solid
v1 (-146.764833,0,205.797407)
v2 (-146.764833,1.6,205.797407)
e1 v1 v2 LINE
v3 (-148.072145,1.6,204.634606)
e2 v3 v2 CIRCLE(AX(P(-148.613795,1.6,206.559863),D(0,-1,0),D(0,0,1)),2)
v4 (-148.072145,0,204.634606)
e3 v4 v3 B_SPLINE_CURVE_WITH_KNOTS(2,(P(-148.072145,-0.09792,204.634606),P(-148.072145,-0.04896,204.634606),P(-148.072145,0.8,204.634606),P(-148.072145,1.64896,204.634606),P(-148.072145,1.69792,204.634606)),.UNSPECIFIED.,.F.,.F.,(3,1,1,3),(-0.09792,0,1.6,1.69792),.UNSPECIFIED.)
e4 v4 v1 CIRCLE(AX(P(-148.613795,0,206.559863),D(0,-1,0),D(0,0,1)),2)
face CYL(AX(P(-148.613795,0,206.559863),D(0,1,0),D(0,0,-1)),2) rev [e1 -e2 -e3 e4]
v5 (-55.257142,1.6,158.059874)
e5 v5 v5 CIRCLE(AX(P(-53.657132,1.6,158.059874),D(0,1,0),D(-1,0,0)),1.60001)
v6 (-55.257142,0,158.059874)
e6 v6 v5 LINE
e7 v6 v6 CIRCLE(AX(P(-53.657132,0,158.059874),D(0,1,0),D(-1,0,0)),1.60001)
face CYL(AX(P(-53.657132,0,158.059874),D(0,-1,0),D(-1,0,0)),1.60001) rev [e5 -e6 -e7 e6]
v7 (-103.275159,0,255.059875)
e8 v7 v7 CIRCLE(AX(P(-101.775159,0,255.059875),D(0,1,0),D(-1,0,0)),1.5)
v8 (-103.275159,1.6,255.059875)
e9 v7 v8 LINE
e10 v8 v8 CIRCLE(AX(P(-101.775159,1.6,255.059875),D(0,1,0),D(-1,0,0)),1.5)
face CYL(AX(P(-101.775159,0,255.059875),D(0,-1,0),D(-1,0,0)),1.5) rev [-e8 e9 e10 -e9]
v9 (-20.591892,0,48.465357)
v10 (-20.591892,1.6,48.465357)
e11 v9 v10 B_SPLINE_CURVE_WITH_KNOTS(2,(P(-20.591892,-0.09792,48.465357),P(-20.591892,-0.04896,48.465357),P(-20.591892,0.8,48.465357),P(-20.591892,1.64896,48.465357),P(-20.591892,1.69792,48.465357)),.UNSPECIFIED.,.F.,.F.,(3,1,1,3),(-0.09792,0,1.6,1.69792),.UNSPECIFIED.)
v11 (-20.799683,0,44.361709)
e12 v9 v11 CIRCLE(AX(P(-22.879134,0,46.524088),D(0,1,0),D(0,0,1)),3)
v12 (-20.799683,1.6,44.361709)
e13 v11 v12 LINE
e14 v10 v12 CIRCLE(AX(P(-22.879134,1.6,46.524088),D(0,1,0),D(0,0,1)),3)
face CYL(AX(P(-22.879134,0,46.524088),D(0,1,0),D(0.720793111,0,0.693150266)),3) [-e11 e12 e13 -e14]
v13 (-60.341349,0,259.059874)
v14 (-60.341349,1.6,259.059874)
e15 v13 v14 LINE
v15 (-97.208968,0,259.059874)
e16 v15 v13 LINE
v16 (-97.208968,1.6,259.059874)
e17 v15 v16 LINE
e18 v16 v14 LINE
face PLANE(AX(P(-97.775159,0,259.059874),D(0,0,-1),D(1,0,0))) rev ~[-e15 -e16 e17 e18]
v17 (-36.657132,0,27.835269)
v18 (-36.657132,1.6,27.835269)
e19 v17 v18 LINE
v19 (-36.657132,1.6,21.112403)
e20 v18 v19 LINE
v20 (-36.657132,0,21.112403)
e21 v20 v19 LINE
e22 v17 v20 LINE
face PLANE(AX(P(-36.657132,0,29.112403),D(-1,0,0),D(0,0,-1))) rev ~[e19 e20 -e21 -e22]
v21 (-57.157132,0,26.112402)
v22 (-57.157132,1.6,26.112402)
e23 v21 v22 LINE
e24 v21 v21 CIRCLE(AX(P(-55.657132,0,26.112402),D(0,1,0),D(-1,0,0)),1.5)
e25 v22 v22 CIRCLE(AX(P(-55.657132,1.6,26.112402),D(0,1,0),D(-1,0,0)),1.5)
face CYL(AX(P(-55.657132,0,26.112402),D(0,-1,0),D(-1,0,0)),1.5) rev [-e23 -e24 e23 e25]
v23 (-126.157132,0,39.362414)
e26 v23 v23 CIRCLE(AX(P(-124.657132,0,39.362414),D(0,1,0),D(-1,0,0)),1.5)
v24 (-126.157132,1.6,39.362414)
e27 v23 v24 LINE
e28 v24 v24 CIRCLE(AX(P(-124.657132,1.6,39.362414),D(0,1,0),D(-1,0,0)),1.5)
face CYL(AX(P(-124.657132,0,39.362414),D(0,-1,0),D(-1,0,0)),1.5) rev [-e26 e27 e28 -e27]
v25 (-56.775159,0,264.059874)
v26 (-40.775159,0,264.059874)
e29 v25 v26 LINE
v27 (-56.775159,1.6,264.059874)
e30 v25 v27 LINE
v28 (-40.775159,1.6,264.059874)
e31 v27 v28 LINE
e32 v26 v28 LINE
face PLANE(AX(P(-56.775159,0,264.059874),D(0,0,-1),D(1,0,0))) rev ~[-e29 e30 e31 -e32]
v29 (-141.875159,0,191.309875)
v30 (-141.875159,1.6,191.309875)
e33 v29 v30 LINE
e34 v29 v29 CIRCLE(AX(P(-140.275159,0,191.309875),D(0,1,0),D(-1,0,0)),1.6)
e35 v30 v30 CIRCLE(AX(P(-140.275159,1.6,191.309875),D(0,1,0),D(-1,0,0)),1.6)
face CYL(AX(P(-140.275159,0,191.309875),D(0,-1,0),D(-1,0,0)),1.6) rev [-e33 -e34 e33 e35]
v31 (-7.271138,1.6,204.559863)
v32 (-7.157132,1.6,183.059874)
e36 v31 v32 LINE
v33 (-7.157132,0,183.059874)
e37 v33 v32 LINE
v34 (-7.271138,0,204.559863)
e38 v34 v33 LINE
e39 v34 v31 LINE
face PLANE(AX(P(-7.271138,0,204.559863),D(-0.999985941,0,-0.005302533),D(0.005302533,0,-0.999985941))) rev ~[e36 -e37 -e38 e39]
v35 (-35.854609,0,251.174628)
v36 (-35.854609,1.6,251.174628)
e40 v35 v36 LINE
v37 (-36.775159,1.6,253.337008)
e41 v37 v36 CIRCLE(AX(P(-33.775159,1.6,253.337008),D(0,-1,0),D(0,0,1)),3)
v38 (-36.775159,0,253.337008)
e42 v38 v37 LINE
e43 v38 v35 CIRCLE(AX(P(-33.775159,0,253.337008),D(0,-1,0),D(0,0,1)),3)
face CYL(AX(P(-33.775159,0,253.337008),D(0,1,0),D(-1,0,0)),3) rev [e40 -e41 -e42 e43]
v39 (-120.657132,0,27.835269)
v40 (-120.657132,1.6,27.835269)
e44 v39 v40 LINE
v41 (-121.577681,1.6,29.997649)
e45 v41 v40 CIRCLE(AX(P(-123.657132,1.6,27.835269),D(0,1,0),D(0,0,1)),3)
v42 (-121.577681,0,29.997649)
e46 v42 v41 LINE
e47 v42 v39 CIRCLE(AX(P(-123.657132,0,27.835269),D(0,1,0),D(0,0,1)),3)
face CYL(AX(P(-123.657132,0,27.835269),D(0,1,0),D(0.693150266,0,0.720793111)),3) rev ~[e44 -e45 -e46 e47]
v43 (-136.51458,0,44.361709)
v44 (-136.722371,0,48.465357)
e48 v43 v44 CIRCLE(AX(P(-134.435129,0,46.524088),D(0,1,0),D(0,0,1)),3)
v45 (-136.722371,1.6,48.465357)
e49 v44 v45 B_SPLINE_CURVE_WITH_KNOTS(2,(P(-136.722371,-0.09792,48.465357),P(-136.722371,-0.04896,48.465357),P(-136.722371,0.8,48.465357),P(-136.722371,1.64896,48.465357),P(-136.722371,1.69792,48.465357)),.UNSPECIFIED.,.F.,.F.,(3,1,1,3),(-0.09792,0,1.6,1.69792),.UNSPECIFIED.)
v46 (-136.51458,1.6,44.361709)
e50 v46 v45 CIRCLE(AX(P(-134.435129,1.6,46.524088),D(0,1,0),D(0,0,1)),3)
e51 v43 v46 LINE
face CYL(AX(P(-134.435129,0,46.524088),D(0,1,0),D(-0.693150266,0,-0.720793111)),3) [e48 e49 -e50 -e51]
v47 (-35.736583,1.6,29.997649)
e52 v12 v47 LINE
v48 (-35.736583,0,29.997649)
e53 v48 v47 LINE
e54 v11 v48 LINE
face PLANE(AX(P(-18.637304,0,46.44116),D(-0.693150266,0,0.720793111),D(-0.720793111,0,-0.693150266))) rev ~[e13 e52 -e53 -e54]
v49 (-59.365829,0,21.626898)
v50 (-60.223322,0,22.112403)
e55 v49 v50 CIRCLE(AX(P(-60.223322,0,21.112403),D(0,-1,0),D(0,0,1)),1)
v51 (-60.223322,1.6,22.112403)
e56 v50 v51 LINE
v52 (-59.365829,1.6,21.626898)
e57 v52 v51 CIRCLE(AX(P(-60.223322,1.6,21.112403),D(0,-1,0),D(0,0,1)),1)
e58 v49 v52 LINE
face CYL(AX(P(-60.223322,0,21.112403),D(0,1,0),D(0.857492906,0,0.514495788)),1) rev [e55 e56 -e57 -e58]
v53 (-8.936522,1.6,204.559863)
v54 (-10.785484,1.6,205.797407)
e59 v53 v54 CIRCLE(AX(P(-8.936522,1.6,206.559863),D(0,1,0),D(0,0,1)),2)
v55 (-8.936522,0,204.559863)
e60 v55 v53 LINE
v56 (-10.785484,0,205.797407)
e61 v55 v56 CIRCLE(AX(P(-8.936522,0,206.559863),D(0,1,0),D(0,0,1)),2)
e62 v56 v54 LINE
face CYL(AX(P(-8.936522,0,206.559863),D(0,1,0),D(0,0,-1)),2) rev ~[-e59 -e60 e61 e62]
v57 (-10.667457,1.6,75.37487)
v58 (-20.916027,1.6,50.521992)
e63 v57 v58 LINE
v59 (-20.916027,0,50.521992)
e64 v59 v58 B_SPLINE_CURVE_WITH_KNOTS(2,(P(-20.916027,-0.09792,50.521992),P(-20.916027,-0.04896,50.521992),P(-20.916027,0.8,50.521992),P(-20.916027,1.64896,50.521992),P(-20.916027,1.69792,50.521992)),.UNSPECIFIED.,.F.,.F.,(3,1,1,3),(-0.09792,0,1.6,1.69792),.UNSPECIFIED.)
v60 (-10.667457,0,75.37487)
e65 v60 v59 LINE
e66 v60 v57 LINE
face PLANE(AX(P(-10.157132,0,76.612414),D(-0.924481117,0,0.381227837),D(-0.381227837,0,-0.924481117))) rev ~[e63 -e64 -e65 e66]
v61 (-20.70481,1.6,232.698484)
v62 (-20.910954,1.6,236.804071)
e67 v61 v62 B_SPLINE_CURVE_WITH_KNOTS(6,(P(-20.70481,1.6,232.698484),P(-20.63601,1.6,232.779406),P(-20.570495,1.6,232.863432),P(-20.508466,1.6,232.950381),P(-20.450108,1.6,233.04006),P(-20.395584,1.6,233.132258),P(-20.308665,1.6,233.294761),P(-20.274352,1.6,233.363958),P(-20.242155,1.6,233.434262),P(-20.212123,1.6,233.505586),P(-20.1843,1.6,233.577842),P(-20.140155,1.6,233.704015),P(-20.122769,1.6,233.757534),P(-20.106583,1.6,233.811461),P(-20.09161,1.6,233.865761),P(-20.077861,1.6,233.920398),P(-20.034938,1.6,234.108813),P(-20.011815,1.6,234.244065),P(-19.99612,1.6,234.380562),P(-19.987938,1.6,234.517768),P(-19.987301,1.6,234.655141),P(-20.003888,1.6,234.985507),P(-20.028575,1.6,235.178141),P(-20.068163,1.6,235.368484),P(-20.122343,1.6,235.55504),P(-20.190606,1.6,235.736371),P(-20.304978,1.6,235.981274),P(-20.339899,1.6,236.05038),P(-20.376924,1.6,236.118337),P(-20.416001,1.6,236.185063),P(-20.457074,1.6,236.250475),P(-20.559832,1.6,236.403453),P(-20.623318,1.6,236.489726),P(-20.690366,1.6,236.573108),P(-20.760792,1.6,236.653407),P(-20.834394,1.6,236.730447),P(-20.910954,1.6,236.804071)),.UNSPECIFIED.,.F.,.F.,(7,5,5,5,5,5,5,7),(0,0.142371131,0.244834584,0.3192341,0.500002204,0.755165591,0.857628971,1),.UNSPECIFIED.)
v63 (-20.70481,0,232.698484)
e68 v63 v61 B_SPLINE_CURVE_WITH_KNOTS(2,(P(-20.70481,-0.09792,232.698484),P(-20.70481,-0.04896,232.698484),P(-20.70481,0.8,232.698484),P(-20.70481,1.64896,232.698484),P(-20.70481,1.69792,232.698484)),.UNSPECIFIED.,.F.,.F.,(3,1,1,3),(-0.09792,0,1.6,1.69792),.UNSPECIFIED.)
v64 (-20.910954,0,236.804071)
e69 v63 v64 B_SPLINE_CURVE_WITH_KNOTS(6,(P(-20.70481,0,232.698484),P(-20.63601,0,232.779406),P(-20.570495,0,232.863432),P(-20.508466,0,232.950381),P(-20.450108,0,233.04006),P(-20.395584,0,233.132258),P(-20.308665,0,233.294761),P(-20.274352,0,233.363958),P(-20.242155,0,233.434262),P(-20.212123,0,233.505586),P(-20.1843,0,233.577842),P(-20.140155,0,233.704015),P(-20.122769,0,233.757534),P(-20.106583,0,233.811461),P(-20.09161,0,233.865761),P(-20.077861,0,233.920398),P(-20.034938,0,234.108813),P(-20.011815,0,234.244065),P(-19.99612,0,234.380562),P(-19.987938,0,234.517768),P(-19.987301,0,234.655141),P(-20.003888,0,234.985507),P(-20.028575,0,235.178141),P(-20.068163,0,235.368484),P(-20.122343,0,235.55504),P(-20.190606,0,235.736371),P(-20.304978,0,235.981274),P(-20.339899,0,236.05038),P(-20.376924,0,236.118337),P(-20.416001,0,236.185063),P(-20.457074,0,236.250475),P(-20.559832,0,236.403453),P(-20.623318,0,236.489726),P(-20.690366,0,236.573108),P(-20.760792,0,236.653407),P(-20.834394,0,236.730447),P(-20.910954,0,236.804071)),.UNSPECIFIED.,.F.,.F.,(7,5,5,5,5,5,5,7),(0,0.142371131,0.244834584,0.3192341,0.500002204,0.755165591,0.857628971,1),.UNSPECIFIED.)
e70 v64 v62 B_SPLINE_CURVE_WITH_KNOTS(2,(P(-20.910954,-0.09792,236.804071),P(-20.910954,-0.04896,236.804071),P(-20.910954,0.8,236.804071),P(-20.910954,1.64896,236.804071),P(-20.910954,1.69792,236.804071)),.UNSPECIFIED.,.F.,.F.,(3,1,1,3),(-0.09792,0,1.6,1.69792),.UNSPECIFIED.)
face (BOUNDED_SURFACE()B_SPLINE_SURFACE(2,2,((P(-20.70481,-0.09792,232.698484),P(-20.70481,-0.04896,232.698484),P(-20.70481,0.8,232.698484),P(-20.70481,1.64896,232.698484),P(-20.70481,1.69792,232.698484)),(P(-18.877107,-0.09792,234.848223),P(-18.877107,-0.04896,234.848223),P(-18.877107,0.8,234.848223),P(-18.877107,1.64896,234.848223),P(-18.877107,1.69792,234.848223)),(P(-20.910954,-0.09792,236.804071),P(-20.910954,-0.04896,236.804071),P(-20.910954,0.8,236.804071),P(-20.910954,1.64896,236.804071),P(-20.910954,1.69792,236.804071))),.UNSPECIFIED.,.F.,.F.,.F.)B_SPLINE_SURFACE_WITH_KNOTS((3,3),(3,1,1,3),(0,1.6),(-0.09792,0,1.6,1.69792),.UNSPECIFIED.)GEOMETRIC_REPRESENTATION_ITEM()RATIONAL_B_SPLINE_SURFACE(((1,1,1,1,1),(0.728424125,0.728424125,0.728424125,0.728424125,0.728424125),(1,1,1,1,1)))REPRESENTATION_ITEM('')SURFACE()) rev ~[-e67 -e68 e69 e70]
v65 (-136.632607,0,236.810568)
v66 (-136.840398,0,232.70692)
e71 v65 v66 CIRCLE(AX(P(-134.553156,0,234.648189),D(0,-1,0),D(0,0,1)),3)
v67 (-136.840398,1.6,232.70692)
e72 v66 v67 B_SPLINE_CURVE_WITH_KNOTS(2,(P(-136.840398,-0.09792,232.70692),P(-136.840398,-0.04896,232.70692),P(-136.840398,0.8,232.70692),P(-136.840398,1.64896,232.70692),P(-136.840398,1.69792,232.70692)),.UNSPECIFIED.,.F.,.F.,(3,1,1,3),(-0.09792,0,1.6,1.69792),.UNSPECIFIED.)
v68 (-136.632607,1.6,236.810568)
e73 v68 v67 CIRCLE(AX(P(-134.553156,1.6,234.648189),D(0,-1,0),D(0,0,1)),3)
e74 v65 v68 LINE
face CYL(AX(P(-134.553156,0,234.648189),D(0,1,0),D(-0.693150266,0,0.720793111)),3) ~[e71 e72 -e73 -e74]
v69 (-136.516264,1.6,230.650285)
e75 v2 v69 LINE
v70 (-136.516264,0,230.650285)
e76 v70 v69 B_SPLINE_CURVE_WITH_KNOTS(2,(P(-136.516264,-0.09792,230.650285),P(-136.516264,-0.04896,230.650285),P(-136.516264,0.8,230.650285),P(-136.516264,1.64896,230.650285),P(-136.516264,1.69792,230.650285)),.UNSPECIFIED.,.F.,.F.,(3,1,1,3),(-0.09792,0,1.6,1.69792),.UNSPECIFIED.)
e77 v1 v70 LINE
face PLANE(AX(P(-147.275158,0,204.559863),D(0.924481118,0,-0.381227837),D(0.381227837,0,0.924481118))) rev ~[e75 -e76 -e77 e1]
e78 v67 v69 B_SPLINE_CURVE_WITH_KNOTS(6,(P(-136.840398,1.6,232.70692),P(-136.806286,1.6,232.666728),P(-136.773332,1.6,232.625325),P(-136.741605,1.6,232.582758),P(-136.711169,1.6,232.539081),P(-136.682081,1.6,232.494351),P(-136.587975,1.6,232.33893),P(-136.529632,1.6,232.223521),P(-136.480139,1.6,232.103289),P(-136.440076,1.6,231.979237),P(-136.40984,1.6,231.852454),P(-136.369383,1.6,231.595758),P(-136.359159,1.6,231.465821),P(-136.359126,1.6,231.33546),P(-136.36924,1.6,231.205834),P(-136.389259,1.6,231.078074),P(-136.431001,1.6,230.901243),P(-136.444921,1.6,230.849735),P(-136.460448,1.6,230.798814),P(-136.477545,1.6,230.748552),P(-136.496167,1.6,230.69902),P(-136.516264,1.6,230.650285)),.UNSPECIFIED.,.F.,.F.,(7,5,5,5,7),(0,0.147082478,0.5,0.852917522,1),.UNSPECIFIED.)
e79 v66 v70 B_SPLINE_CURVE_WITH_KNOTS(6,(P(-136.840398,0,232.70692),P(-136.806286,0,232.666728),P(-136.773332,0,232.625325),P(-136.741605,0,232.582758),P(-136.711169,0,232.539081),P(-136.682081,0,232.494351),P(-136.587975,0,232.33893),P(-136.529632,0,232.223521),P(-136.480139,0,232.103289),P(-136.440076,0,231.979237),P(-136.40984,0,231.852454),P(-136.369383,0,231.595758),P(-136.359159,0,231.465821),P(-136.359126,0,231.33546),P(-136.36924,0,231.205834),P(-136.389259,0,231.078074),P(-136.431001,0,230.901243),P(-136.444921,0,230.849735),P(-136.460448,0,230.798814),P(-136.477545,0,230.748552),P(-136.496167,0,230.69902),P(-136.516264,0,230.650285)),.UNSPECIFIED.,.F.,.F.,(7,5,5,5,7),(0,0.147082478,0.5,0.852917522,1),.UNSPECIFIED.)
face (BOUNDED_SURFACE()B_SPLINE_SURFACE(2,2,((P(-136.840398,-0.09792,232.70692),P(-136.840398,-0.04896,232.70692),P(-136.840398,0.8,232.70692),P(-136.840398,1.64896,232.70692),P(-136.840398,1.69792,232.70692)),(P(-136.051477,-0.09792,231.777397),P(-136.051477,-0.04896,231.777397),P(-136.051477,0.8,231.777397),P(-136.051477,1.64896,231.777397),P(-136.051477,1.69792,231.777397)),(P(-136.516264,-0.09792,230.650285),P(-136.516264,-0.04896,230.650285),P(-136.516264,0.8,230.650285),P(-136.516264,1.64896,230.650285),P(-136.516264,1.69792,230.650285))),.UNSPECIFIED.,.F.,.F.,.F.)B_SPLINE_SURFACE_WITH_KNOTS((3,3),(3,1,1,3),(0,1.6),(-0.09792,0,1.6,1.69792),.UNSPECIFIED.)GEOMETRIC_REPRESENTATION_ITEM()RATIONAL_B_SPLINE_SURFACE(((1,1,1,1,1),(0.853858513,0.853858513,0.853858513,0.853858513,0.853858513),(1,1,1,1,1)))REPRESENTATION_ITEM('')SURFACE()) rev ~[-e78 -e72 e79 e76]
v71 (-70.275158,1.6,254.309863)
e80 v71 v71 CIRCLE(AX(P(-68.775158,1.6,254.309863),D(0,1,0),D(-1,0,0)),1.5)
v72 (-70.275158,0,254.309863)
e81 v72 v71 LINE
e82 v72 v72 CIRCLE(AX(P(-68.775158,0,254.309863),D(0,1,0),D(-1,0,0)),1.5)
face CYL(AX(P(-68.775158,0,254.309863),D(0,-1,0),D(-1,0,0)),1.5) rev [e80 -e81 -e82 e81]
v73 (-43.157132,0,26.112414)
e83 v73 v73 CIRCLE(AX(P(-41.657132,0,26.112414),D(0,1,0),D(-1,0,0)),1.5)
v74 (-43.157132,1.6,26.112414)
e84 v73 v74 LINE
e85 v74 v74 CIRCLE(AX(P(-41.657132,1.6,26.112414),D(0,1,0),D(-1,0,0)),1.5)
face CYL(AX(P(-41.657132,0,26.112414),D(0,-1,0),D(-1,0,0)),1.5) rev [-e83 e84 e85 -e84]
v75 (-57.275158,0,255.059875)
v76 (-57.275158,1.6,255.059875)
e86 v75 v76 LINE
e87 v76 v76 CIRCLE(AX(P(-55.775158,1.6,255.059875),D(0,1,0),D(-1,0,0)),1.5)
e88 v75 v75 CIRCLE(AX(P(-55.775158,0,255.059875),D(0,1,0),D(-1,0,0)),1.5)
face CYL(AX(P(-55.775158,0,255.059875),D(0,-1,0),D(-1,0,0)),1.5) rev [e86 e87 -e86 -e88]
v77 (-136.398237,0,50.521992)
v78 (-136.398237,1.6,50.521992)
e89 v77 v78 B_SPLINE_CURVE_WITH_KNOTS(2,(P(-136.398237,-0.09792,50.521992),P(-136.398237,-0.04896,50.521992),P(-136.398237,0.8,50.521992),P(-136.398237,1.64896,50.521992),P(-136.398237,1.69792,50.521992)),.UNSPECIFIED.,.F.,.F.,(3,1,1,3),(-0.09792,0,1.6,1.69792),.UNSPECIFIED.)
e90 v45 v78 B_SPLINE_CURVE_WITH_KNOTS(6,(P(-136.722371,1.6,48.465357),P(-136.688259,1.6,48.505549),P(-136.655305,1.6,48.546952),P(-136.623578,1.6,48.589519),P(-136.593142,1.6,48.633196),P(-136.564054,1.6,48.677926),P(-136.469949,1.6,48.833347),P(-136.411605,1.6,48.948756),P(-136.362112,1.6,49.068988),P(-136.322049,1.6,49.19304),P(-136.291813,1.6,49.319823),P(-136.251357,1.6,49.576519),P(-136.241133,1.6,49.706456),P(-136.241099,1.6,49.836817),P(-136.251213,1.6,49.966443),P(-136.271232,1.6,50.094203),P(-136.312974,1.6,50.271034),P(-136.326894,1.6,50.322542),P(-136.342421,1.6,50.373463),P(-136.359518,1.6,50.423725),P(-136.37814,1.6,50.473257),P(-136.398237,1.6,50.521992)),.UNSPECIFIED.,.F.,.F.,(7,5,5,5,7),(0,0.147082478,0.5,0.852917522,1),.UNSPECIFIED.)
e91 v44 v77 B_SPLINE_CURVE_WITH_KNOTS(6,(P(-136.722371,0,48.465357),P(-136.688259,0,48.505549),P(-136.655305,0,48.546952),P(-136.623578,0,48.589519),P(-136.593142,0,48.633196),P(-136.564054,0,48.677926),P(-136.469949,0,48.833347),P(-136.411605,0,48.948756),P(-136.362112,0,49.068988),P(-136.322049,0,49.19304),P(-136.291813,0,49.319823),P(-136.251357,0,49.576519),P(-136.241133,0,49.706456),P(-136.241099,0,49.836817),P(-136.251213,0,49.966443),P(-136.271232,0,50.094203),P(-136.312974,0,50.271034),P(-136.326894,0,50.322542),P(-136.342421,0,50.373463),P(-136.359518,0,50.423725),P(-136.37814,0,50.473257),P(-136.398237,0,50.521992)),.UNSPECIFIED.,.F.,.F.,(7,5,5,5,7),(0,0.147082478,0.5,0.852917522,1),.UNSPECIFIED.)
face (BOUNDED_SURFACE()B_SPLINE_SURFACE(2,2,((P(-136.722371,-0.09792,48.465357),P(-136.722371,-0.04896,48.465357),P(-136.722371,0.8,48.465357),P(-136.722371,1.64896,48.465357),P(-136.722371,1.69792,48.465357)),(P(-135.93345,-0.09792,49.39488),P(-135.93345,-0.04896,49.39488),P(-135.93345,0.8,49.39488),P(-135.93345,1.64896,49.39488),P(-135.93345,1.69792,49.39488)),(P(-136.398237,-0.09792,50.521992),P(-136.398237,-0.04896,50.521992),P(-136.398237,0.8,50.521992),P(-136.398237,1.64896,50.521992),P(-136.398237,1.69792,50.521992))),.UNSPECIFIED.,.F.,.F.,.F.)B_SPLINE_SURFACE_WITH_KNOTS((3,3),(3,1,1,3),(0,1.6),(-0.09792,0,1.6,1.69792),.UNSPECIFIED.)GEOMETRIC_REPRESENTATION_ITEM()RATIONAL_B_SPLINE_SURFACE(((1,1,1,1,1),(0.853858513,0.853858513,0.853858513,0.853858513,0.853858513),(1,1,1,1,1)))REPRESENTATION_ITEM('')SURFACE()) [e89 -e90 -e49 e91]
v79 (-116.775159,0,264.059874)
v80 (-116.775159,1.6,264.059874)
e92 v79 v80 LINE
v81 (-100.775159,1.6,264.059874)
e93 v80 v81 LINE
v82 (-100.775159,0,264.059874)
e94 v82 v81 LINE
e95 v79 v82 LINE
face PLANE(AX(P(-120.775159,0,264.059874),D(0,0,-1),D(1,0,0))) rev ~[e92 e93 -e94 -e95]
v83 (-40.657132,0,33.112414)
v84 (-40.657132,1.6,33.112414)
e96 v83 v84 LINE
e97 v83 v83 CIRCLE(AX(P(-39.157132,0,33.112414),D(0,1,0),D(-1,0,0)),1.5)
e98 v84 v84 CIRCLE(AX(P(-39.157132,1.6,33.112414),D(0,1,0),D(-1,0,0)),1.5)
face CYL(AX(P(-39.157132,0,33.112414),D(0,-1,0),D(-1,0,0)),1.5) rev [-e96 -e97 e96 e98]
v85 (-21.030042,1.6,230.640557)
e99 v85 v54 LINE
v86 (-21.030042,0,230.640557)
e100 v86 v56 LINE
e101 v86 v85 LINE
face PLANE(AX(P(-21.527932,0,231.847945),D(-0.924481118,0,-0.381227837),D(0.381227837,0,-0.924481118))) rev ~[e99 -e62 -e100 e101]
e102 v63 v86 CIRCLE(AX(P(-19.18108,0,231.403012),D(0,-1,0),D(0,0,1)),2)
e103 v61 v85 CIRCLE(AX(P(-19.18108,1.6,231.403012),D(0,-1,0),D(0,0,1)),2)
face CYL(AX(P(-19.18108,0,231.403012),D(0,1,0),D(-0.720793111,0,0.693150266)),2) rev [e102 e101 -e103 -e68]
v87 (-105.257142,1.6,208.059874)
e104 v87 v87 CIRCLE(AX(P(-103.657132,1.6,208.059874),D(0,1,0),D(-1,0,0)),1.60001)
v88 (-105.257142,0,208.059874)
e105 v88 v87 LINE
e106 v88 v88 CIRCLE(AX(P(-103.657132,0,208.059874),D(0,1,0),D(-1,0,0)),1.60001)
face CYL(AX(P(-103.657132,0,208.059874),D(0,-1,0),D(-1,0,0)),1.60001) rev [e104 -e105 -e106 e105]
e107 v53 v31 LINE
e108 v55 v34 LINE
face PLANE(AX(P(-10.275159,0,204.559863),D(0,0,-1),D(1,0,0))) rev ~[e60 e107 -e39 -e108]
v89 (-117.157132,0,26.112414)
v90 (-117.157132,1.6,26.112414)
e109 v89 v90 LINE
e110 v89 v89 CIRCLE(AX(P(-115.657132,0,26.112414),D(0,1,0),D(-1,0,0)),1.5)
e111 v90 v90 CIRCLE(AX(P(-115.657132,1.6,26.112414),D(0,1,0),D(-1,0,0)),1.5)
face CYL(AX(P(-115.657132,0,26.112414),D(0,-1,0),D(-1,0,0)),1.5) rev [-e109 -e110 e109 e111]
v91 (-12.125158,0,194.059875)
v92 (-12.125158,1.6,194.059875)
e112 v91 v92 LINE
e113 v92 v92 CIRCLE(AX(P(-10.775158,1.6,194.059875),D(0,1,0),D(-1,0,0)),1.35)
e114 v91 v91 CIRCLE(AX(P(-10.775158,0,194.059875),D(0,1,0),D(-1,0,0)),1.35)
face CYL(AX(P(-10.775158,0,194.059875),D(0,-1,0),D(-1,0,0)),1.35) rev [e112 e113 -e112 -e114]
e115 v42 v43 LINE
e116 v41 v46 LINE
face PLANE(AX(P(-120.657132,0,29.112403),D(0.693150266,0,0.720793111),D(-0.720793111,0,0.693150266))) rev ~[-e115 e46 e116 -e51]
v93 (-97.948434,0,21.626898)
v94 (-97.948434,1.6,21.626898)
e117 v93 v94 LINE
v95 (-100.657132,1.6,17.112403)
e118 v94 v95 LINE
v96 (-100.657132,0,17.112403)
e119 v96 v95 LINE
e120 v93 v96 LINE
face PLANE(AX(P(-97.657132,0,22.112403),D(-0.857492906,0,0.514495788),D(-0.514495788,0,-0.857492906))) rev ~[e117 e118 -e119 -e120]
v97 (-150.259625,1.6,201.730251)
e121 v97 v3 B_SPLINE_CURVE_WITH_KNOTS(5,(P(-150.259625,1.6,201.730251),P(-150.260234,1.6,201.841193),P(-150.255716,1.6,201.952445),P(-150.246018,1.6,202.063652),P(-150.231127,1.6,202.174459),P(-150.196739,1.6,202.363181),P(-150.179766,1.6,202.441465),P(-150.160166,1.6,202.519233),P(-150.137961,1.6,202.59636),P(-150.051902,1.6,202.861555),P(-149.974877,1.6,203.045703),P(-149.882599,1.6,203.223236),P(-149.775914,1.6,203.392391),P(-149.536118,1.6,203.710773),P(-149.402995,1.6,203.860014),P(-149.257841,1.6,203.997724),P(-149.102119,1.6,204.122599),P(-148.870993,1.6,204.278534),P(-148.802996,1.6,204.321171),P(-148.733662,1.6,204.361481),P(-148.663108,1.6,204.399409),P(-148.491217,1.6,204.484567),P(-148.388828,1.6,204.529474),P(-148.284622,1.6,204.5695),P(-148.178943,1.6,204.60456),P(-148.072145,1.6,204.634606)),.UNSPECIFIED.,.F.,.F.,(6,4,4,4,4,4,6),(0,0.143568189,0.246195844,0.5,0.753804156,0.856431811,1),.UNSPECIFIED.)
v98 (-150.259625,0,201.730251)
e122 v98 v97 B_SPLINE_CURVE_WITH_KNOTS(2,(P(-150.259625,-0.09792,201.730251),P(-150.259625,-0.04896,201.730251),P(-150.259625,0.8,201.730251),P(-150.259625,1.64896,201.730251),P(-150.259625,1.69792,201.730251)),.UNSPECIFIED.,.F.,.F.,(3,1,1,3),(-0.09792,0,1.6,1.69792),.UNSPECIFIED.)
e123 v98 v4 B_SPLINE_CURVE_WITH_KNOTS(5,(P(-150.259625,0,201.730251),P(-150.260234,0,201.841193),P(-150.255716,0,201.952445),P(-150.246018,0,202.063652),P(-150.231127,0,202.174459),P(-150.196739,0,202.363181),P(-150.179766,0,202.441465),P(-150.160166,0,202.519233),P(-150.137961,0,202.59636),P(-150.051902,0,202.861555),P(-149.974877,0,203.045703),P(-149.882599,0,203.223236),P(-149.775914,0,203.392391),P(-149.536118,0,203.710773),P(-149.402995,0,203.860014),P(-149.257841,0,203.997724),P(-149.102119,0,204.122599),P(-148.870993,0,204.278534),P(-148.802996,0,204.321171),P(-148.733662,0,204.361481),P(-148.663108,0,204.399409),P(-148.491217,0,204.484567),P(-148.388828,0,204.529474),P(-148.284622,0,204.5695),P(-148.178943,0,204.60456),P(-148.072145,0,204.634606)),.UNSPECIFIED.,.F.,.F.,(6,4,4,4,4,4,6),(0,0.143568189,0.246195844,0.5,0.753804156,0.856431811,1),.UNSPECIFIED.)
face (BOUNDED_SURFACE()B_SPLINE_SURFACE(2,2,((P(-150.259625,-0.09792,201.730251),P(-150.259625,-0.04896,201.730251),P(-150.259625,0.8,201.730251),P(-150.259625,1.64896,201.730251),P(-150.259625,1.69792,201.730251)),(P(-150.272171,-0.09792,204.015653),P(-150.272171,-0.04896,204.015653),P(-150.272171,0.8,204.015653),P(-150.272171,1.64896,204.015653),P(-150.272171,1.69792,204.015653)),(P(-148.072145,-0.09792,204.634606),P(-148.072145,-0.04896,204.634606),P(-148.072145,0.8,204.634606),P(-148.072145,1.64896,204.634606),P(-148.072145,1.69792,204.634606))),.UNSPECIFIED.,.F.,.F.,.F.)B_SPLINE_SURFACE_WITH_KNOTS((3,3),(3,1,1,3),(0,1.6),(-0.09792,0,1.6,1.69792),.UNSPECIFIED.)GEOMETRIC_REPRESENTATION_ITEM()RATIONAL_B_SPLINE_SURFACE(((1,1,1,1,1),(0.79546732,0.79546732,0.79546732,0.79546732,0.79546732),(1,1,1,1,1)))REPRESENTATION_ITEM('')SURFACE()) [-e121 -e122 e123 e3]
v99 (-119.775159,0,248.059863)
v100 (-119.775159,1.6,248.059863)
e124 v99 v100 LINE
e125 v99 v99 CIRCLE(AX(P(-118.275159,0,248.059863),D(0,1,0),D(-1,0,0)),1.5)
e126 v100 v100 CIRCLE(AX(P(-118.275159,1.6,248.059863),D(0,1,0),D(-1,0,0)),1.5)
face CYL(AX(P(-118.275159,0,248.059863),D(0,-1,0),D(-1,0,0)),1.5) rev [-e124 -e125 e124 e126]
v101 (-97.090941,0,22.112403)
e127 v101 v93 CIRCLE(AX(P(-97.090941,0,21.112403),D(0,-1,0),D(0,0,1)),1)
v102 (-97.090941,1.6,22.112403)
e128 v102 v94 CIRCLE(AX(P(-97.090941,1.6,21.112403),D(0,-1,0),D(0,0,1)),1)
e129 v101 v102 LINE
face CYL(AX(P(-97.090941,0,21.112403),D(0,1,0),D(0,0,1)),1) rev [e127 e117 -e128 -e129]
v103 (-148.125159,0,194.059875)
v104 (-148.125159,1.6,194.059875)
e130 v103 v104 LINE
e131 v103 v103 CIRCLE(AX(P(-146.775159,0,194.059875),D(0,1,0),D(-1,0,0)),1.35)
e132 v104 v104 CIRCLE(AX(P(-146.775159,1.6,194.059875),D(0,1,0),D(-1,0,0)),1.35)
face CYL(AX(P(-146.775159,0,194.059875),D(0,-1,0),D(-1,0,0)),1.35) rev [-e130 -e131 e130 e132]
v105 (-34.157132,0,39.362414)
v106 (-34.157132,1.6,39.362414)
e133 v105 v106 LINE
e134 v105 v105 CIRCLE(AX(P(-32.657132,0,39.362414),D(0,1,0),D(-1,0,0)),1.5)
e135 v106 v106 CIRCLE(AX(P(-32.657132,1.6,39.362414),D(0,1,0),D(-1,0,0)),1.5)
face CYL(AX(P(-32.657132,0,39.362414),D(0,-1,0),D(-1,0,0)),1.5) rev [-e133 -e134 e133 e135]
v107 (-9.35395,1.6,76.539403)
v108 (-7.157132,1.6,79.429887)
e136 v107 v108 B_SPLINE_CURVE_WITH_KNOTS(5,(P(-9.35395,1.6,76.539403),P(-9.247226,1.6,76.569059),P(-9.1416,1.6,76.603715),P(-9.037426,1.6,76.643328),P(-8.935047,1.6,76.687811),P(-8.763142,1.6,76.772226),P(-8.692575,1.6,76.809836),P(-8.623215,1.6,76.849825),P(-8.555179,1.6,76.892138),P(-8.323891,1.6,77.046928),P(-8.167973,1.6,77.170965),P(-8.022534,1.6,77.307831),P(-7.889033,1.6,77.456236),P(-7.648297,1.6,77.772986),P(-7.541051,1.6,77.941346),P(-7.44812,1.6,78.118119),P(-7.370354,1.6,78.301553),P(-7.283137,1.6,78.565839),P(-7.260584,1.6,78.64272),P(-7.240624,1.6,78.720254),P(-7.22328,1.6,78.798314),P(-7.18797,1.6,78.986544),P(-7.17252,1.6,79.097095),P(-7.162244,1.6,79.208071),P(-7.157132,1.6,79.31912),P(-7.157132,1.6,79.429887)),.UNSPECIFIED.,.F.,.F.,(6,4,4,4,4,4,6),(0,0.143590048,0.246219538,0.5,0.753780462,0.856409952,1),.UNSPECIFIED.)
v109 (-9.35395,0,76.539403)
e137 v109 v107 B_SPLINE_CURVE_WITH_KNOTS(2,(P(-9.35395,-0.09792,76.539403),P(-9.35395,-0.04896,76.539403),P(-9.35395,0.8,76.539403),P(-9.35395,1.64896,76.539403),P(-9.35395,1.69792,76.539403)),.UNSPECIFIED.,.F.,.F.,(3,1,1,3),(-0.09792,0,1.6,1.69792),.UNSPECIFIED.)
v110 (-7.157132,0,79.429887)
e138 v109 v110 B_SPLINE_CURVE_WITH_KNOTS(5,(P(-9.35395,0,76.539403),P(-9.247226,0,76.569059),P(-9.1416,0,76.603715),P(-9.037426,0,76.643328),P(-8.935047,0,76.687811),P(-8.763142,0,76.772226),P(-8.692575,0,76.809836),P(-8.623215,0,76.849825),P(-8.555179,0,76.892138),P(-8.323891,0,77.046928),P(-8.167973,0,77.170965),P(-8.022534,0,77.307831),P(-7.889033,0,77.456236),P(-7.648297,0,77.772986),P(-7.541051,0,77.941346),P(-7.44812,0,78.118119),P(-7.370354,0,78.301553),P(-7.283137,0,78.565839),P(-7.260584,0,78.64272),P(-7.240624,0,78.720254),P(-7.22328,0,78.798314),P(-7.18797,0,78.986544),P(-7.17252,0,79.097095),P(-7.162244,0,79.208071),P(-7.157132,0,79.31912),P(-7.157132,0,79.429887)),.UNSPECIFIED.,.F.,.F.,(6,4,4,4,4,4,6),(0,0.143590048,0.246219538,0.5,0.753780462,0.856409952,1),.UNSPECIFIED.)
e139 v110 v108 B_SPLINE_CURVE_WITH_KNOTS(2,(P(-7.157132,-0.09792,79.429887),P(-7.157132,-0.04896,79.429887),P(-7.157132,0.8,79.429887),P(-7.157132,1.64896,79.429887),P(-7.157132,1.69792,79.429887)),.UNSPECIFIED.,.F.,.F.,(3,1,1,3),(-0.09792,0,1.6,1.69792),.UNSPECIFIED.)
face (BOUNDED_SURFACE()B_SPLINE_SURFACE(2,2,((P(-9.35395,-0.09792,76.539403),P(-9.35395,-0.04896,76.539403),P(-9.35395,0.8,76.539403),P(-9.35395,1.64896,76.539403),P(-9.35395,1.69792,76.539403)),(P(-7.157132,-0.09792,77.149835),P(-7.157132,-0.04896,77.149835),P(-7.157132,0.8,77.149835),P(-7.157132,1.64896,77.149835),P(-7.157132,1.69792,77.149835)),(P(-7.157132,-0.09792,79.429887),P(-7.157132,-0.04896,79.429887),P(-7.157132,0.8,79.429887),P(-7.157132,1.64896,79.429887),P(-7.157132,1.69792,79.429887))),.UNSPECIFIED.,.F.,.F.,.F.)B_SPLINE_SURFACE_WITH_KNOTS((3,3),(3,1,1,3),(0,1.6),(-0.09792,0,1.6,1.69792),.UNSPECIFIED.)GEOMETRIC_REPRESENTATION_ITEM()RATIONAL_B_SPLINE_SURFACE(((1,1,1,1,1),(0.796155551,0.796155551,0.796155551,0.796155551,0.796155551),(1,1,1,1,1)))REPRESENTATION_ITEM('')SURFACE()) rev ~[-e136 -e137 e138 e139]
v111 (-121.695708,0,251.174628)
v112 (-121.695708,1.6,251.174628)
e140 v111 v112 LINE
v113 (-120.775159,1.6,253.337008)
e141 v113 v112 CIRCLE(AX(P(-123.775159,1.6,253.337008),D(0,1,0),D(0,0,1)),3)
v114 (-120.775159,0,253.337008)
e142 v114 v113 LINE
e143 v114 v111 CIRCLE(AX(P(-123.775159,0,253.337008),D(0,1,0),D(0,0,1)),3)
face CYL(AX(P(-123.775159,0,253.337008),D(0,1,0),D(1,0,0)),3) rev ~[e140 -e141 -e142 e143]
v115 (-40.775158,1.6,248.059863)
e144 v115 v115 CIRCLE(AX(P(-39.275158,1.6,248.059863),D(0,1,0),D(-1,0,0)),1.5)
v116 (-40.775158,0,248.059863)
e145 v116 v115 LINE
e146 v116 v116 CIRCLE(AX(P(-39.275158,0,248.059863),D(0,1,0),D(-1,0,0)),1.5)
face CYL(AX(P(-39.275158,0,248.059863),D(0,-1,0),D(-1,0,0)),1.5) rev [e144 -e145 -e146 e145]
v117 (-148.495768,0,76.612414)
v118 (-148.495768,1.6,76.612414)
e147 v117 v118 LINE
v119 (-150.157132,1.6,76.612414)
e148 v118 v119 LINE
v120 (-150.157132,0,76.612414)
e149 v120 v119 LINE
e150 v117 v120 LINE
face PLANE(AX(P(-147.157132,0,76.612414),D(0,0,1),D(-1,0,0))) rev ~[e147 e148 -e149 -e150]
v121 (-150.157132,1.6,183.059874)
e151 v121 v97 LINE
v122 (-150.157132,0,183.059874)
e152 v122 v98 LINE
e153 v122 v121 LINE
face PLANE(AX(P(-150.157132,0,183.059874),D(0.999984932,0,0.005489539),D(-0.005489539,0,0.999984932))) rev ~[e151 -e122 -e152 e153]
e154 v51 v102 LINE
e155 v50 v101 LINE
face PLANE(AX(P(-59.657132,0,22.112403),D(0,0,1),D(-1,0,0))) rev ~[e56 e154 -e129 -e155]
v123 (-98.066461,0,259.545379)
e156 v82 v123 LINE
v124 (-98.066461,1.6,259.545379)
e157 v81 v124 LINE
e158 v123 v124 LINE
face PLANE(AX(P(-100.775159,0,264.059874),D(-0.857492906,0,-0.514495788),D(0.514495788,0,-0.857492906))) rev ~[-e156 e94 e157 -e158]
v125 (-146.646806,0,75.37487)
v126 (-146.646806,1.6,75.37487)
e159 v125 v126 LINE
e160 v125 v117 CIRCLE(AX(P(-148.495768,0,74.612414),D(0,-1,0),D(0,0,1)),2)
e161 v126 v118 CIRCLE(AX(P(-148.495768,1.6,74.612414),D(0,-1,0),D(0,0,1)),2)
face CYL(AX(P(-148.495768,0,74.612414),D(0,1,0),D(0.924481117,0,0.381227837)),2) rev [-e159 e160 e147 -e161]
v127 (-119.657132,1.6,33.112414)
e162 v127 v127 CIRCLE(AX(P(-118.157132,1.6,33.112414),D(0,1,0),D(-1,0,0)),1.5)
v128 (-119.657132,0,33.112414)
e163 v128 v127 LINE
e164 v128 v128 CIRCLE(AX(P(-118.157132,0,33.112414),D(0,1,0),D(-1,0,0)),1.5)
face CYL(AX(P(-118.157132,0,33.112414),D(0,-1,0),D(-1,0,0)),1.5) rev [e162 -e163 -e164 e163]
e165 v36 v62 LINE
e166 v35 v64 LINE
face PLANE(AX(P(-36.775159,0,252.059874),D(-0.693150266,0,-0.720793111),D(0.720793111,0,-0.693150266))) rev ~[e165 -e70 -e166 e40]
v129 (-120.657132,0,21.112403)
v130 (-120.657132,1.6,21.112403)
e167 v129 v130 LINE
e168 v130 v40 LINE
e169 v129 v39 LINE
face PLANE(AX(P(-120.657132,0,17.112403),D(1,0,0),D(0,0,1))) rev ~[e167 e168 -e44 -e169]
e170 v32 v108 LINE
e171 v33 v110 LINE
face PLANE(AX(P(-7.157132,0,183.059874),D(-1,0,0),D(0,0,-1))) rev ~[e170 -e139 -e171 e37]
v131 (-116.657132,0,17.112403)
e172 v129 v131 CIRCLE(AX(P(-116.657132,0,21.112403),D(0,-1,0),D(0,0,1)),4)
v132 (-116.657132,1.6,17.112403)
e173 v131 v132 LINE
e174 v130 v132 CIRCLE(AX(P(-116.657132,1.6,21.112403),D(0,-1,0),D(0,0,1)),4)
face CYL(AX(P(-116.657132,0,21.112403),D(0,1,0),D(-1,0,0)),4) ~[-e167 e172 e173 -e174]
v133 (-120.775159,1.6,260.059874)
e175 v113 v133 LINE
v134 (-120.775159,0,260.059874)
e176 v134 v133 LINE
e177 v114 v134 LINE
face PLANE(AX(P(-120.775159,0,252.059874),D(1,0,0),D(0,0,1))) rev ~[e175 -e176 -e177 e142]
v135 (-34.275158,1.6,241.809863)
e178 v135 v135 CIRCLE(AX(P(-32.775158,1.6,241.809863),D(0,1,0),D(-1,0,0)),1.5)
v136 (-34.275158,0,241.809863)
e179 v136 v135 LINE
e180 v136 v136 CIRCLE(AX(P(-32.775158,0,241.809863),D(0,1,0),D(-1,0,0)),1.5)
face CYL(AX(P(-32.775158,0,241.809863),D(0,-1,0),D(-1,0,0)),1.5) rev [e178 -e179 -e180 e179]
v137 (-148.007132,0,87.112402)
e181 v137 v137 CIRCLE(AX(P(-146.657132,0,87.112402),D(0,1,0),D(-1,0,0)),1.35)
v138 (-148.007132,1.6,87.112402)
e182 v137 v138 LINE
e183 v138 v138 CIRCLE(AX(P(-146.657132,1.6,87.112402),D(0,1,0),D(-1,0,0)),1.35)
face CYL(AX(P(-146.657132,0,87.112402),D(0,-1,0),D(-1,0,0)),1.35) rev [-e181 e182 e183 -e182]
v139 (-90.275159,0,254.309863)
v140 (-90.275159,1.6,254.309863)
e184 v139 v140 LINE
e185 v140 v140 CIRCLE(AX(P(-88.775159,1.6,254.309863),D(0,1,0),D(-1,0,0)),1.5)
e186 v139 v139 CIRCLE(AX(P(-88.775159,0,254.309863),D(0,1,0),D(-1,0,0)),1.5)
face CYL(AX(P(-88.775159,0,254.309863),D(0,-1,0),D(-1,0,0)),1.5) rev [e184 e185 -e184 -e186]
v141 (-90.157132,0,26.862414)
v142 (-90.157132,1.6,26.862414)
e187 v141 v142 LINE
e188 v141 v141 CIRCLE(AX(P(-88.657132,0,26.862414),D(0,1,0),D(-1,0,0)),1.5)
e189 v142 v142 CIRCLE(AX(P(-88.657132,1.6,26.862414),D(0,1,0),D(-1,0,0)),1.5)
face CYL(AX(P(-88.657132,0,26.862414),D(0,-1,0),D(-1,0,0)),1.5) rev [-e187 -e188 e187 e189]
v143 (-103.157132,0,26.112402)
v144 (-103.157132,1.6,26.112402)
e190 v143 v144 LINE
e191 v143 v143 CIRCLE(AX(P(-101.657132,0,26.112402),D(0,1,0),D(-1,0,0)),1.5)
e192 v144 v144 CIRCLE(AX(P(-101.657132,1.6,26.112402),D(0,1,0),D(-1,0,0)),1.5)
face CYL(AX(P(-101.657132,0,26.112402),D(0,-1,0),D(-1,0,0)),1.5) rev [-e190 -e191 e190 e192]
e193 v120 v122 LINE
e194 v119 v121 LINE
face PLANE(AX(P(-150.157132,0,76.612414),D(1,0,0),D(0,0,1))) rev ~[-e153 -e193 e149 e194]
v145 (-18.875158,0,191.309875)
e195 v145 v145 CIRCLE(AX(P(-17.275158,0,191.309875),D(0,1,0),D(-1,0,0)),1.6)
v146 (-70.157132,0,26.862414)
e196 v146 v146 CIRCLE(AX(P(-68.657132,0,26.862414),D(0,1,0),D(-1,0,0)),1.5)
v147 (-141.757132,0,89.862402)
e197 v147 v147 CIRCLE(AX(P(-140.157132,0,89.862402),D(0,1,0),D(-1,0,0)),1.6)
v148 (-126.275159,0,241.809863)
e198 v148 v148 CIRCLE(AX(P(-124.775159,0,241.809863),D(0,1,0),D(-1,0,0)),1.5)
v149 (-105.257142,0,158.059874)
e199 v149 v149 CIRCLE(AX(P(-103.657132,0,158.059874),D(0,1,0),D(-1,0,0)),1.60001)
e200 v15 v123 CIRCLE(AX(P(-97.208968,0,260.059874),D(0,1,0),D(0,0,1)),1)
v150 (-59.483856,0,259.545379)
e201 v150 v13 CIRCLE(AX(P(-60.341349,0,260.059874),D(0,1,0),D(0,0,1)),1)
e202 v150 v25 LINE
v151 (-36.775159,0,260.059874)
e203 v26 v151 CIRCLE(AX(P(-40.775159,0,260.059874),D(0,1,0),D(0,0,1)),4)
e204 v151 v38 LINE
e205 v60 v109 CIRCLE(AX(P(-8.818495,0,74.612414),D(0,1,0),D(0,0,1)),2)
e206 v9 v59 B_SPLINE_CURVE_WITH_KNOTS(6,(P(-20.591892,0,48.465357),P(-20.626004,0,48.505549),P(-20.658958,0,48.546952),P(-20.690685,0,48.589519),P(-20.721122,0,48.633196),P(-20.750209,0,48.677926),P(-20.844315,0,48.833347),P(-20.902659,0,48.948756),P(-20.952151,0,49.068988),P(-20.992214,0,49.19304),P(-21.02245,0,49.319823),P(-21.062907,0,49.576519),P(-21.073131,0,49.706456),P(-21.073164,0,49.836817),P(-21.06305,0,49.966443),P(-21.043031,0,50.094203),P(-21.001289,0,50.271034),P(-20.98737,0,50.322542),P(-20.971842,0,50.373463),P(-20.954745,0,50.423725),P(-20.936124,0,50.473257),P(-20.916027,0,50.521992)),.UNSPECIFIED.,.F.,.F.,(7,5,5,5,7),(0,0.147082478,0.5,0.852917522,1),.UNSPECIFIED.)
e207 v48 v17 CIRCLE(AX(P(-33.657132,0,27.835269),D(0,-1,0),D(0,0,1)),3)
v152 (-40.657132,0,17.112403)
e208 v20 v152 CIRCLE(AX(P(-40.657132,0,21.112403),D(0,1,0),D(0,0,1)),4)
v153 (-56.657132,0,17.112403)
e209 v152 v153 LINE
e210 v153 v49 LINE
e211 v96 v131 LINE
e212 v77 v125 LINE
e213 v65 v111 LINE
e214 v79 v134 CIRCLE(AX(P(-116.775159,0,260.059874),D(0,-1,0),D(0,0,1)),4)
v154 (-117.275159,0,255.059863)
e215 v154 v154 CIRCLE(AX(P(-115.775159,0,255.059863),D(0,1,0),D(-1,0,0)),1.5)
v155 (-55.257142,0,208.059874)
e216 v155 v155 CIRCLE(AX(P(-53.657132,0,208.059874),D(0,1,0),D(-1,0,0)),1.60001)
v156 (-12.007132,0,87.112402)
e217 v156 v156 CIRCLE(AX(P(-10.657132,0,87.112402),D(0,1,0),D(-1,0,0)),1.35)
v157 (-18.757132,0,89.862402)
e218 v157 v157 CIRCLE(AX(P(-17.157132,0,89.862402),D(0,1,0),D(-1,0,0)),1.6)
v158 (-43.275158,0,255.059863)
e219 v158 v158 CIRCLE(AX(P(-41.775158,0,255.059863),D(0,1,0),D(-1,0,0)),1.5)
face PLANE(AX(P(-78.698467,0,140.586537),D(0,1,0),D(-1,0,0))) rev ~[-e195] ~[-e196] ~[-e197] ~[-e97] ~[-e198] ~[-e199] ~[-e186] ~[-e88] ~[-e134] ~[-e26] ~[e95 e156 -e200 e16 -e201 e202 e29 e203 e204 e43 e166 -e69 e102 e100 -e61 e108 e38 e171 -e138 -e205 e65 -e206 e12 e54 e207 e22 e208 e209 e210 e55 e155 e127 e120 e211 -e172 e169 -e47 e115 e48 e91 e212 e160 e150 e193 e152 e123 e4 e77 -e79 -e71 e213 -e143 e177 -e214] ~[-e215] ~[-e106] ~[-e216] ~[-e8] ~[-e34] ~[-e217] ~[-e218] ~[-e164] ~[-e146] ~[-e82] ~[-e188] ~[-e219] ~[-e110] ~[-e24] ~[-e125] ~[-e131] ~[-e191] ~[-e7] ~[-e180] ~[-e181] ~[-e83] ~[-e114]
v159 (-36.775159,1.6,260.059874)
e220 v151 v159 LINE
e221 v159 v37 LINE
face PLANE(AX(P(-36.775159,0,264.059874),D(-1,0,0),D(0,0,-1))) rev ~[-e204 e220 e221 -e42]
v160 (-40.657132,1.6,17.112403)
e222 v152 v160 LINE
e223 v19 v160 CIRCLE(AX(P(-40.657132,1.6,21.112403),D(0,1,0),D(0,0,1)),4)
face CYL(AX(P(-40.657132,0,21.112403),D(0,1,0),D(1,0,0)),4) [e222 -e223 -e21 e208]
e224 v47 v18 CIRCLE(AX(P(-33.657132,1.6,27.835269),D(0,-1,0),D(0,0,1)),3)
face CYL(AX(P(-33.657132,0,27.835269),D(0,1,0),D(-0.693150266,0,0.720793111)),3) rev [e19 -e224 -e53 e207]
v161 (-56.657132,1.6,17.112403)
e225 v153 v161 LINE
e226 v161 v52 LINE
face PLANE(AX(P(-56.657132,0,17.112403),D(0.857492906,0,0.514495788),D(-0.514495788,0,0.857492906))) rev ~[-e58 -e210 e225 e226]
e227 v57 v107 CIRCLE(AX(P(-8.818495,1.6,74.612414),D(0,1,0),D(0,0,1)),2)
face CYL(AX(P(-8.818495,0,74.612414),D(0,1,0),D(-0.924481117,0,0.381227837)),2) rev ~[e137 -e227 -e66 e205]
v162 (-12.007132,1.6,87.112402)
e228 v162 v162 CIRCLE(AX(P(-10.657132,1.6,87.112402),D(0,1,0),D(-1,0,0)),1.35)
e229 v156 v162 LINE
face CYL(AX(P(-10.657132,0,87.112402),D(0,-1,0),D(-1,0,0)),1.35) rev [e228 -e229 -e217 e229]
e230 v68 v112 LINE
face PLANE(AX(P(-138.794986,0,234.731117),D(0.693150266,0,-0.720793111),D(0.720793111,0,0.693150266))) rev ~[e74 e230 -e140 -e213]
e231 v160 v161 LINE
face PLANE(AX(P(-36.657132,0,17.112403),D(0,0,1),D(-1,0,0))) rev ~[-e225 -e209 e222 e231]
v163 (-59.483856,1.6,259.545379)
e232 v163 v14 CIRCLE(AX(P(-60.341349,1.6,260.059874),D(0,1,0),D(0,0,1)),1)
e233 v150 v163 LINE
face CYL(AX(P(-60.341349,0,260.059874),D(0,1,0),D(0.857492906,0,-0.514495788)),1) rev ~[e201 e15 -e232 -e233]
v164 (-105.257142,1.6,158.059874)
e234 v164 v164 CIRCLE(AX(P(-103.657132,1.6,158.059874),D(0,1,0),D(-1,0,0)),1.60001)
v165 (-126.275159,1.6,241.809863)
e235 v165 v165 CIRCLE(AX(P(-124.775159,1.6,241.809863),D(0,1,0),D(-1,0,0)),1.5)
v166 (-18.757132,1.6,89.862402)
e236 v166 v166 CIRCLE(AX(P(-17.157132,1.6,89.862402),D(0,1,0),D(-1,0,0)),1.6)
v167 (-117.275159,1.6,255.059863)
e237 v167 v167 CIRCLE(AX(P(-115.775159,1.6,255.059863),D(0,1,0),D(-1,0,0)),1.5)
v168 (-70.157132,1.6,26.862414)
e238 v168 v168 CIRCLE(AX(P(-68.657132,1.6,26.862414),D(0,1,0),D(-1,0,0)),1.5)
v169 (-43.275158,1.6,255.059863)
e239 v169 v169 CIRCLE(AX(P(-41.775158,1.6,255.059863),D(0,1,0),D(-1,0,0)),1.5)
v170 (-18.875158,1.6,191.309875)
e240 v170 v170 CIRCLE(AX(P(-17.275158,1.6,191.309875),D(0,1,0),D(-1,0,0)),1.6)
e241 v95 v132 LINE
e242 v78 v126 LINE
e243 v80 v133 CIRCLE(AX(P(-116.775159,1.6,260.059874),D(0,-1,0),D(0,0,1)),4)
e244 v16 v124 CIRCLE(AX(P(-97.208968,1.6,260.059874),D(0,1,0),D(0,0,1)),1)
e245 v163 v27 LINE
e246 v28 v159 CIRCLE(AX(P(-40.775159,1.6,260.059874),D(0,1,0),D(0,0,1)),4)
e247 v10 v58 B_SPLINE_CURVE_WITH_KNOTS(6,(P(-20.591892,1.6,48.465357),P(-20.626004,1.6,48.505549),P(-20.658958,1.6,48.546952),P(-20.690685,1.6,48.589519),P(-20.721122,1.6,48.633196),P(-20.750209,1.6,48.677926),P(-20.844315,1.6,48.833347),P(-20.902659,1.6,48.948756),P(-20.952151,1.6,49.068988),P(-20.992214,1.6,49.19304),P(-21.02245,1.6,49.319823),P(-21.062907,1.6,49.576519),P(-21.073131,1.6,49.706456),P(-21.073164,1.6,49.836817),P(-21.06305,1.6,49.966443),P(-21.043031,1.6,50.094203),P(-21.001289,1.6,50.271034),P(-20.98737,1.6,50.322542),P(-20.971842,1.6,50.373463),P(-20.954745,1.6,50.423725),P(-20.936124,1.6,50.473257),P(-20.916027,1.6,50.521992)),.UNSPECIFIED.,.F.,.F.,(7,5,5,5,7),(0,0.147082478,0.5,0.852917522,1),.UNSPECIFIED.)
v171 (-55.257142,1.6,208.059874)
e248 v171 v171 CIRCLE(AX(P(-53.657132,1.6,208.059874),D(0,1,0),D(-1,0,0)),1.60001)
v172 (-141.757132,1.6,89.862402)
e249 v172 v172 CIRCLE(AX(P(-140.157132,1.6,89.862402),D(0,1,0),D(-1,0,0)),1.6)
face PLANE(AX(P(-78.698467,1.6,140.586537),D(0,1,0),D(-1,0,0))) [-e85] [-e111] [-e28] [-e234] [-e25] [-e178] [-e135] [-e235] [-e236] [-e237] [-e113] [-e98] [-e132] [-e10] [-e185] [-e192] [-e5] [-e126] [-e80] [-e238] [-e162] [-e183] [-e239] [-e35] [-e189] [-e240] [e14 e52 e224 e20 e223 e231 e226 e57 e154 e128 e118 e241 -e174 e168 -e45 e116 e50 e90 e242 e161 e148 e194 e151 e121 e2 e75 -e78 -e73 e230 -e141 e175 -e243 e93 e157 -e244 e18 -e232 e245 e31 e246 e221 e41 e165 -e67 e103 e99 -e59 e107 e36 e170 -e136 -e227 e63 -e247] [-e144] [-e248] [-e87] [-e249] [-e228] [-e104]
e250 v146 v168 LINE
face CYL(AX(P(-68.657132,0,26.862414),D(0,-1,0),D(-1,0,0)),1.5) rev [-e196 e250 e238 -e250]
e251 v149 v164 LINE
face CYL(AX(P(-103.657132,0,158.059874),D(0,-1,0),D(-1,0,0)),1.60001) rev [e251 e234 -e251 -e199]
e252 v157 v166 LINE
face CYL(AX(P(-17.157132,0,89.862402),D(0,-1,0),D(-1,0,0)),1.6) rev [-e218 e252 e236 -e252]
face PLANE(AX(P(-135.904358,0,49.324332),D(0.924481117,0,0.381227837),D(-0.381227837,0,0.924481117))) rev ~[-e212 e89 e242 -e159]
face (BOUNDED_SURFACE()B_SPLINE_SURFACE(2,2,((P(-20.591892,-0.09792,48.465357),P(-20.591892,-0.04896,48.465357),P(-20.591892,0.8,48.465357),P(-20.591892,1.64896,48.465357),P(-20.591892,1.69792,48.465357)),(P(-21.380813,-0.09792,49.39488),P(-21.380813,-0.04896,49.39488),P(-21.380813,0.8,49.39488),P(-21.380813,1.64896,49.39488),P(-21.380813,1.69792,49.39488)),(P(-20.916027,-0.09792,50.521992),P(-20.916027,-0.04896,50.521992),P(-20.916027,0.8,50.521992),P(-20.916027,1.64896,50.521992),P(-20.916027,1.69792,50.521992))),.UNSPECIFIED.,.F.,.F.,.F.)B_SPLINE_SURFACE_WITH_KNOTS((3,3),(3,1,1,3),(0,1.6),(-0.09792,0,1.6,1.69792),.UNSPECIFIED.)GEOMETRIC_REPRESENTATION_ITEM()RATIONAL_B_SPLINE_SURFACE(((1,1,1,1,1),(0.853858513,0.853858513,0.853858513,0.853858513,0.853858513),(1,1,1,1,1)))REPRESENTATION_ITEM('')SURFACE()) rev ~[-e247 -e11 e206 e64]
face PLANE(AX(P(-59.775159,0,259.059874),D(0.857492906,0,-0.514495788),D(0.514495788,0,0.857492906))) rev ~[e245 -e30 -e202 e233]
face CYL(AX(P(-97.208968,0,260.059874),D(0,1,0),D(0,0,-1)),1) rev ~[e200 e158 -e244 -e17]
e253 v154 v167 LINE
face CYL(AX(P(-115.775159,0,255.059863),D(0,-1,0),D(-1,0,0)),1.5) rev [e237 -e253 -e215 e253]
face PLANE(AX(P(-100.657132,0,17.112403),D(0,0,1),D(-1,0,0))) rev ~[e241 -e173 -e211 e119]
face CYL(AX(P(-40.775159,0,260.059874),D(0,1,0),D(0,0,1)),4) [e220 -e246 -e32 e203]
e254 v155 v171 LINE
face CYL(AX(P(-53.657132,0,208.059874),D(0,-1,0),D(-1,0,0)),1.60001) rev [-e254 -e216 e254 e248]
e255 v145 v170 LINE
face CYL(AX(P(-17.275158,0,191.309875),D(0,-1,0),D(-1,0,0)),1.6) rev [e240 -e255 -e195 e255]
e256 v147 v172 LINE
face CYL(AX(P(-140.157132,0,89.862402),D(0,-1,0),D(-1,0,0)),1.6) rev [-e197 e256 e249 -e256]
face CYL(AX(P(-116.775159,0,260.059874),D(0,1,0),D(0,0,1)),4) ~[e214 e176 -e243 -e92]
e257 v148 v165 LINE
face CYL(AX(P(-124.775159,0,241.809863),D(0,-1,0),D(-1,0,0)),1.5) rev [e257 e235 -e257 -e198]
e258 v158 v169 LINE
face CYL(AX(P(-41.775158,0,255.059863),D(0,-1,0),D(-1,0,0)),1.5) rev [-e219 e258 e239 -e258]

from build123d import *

# Parameters (mm, degrees)
SKETCH1_R        = 1.5
SKETCH1_R_2      = 1.600010398
SKETCH1_R_3      = 1.6
SKETCH1_R_4      = 1.35
EXTRUSION1_DEPTH = 1.6
FILLET1_R        = 1
FILLET2_R        = 4
FILLET3_R        = 3
FILLET4_R        = 3
FILLET5_R        = 2
FILLET6_R        = 2
FILLET7_R        = 3
FILLET8_R        = 3
FILLET9_R        = 2
FILLET10_R       = 2
FILLET11_R       = 3


with BuildPart() as part:
    # Sketch1 → Extrusion1 (new body)
    with BuildSketch(Plane(origin=(0, 0, 0), x_dir=(-1, 0, 0), z_dir=(0, 1, 0))):
        Polygon((59.775158519, 259.059874387), (56.775158519, 264.05987395), (36.775158519, 264.05987395), (36.775158519, 252.05987395), (18.755330752, 234.731117294), (21.527931817, 231.847944851), (10.275158581, 204.559863083), (7.271137723, 204.559863083), (7.157131709, 183.059873956), (7.157131709, 76.612413837), (10.15713177, 76.612413837), (21.409905007, 49.324332069), (18.637303942, 46.441159626), (36.657131709, 29.11240297), (36.657131709, 17.11240297), (56.657131709, 17.11240297), (59.657131709, 22.112402533), (78.657131709, 22.112402533), (97.657131709, 22.112402533), (100.657131709, 17.11240297), (120.657131709, 17.11240297), (120.657131709, 29.11240297), (138.676959475, 46.441159626), (135.90435841, 49.324332069), (147.157131647, 76.612413837), (150.157131709, 76.612413837), (150.157131709, 183.059873956), (150.275158519, 204.559863083), (147.275158457, 204.559863083), (136.022385221, 231.847944851), (138.794986286, 234.731117294), (120.775158519, 252.05987395), (120.775158519, 264.05987395), (100.775158519, 264.05987395), (97.775158519, 259.059874387), (78.657131709, 259.059874387), align=None)
        with Locations((55.657131647, 26.112401639)):
            Circle(SKETCH1_R, mode=Mode.SUBTRACT)
        with Locations((39.157131647, 33.112413837)):
            Circle(SKETCH1_R, mode=Mode.SUBTRACT)
        with Locations((53.657131709, 208.059873956)):
            Circle(SKETCH1_R_2, mode=Mode.SUBTRACT)
        with Locations((53.657131709, 158.059873956)):
            Circle(SKETCH1_R_2, mode=Mode.SUBTRACT)
        with Locations((17.157131647, 89.862401639)):
            Circle(SKETCH1_R_3, mode=Mode.SUBTRACT)
        with Locations((103.657131709, 158.059873956)):
            Circle(SKETCH1_R_2, mode=Mode.SUBTRACT)
        with Locations((41.775158457, 255.059863083)):
            Circle(SKETCH1_R, mode=Mode.SUBTRACT)
        with Locations((39.275158457, 248.059863083)):
            Circle(SKETCH1_R, mode=Mode.SUBTRACT)
        with Locations((10.775158457, 194.05987528)):
            Circle(SKETCH1_R_4, mode=Mode.SUBTRACT)
        with Locations((88.65713177, 26.862413837)):
            Circle(SKETCH1_R, mode=Mode.SUBTRACT)
        with Locations((115.65713177, 26.112413837)):
            Circle(SKETCH1_R, mode=Mode.SUBTRACT)
        with Locations((118.15713177, 33.112413837)):
            Circle(SKETCH1_R, mode=Mode.SUBTRACT)
        with Locations((140.15713177, 89.862401639)):
            Circle(SKETCH1_R_3, mode=Mode.SUBTRACT)
        with Locations((115.775158581, 255.059863083)):
            Circle(SKETCH1_R, mode=Mode.SUBTRACT)
        with Locations((88.775158581, 254.309863083)):
            Circle(SKETCH1_R, mode=Mode.SUBTRACT)
        with Locations((140.275158581, 191.30987528)):
            Circle(SKETCH1_R_3, mode=Mode.SUBTRACT)
        with Locations((146.775158581, 194.05987528)):
            Circle(SKETCH1_R_4, mode=Mode.SUBTRACT)
        with Locations((101.775158581, 255.05987528)):
            Circle(SKETCH1_R, mode=Mode.SUBTRACT)
        with Locations((118.275158581, 248.059863083)):
            Circle(SKETCH1_R, mode=Mode.SUBTRACT)
        with Locations((146.65713177, 87.112401639)):
            Circle(SKETCH1_R_4, mode=Mode.SUBTRACT)
        with Locations((101.65713177, 26.112401639)):
            Circle(SKETCH1_R, mode=Mode.SUBTRACT)
        with Locations((17.275158457, 191.30987528)):
            Circle(SKETCH1_R_3, mode=Mode.SUBTRACT)
        with Locations((55.775158457, 255.05987528)):
            Circle(SKETCH1_R, mode=Mode.SUBTRACT)
        with Locations((68.775158457, 254.309863083)):
            Circle(SKETCH1_R, mode=Mode.SUBTRACT)
        with Locations((10.657131647, 87.112401639)):
            Circle(SKETCH1_R_4, mode=Mode.SUBTRACT)
        with Locations((68.657131647, 26.862413837)):
            Circle(SKETCH1_R, mode=Mode.SUBTRACT)
        with Locations((41.657131647, 26.112413837)):
            Circle(SKETCH1_R, mode=Mode.SUBTRACT)
        with Locations((32.657131647, 39.362413837)):
            Circle(SKETCH1_R, mode=Mode.SUBTRACT)
        with Locations((124.775158581, 241.809863083)):
            Circle(SKETCH1_R, mode=Mode.SUBTRACT)
        with Locations((32.775158457, 241.809863083)):
            Circle(SKETCH1_R, mode=Mode.SUBTRACT)
        with Locations((103.657131709, 208.059873956)):
            Circle(SKETCH1_R_2, mode=Mode.SUBTRACT)
        with Locations((124.65713177, 39.362413837)):
            Circle(SKETCH1_R, mode=Mode.SUBTRACT)
    extrude(amount=EXTRUSION1_DEPTH)

    # Fillet1
    fillet1_edges = [part.edges().sort_by_distance(p)[0] for p in [
        (-97.775158519, 0.8, 259.059874387),
        (-97.657131709, 0.8, 22.112402533),
        (-59.657131709, 0.8, 22.112402533),
        (-59.775158519, 0.8, 259.059874387),
    ]]
    fillet(fillet1_edges, radius=FILLET1_R)

    # Fillet2
    fillet2_edges = [part.edges().sort_by_distance(p)[0] for p in [
        (-120.775158519, 0.8, 264.05987395),
        (-120.657131709, 0.8, 17.11240297),
        (-36.657131709, 0.8, 17.11240297),
        (-36.775158519, 0.8, 264.05987395),
    ]]
    fillet(fillet2_edges, radius=FILLET2_R)

    # Fillet3
    fillet3_edges = [part.edges().sort_by_distance(p)[0] for p in [
        (-120.775158519, 0.8, 252.05987395),
        (-120.657131709, 0.8, 29.11240297),
        (-36.657131709, 0.8, 29.11240297),
        (-36.775158519, 0.8, 252.05987395),
    ]]
    fillet(fillet3_edges, radius=FILLET3_R)

    # Fillet4
    fillet4_edges = [part.edges().sort_by_distance(p)[0] for p in [
        (-138.794986286, 0.8, 234.731117294),
    ]]
    fillet(fillet4_edges, radius=FILLET4_R)

    # Fillet5
    fillet5_edges = [part.edges().sort_by_distance(p)[0] for p in [
        (-136.022385221, 0.8, 231.847944851),
    ]]
    fillet(fillet5_edges, radius=FILLET5_R)

    # Fillet6
    fillet6_edges = [part.edges().sort_by_distance(p)[0] for p in [
        (-21.527931817, 0.8, 231.847944851),
    ]]
    fillet(fillet6_edges, radius=FILLET6_R)

    # Fillet7
    fillet7_edges = [part.edges().sort_by_distance(p)[0] for p in [
        (-18.755330752, 0.8, 234.731117294),
    ]]
    fillet(fillet7_edges, radius=FILLET7_R)

    # Fillet8
    fillet8_edges = [part.edges().sort_by_distance(p)[0] for p in [
        (-138.676959475, 0.8, 46.441159626),
        (-18.637303942, 0.8, 46.441159626),
    ]]
    fillet(fillet8_edges, radius=FILLET8_R)

    # Fillet9
    fillet9_edges = [part.edges().sort_by_distance(p)[0] for p in [
        (-21.409905007, 0.8, 49.324332069),
        (-135.90435841, 0.8, 49.324332069),
    ]]
    fillet(fillet9_edges, radius=FILLET9_R)

    # Fillet10
    fillet10_edges = [part.edges().sort_by_distance(p)[0] for p in [
        (-147.275158457, 0.8, 204.559863083),
        (-147.157131647, 0.8, 76.612413837),
        (-10.15713177, 0.8, 76.612413837),
        (-10.275158581, 0.8, 204.559863083),
    ]]
    fillet(fillet10_edges, radius=FILLET10_R)

    # Fillet11
    fillet11_edges = [part.edges().sort_by_distance(p)[0] for p in [
        (-150.275158519, 0.8, 204.559863083),
        (-7.157131709, 0.8, 76.612413837),
    ]]
    fillet(fillet11_edges, radius=FILLET11_R)


solid = part.part
